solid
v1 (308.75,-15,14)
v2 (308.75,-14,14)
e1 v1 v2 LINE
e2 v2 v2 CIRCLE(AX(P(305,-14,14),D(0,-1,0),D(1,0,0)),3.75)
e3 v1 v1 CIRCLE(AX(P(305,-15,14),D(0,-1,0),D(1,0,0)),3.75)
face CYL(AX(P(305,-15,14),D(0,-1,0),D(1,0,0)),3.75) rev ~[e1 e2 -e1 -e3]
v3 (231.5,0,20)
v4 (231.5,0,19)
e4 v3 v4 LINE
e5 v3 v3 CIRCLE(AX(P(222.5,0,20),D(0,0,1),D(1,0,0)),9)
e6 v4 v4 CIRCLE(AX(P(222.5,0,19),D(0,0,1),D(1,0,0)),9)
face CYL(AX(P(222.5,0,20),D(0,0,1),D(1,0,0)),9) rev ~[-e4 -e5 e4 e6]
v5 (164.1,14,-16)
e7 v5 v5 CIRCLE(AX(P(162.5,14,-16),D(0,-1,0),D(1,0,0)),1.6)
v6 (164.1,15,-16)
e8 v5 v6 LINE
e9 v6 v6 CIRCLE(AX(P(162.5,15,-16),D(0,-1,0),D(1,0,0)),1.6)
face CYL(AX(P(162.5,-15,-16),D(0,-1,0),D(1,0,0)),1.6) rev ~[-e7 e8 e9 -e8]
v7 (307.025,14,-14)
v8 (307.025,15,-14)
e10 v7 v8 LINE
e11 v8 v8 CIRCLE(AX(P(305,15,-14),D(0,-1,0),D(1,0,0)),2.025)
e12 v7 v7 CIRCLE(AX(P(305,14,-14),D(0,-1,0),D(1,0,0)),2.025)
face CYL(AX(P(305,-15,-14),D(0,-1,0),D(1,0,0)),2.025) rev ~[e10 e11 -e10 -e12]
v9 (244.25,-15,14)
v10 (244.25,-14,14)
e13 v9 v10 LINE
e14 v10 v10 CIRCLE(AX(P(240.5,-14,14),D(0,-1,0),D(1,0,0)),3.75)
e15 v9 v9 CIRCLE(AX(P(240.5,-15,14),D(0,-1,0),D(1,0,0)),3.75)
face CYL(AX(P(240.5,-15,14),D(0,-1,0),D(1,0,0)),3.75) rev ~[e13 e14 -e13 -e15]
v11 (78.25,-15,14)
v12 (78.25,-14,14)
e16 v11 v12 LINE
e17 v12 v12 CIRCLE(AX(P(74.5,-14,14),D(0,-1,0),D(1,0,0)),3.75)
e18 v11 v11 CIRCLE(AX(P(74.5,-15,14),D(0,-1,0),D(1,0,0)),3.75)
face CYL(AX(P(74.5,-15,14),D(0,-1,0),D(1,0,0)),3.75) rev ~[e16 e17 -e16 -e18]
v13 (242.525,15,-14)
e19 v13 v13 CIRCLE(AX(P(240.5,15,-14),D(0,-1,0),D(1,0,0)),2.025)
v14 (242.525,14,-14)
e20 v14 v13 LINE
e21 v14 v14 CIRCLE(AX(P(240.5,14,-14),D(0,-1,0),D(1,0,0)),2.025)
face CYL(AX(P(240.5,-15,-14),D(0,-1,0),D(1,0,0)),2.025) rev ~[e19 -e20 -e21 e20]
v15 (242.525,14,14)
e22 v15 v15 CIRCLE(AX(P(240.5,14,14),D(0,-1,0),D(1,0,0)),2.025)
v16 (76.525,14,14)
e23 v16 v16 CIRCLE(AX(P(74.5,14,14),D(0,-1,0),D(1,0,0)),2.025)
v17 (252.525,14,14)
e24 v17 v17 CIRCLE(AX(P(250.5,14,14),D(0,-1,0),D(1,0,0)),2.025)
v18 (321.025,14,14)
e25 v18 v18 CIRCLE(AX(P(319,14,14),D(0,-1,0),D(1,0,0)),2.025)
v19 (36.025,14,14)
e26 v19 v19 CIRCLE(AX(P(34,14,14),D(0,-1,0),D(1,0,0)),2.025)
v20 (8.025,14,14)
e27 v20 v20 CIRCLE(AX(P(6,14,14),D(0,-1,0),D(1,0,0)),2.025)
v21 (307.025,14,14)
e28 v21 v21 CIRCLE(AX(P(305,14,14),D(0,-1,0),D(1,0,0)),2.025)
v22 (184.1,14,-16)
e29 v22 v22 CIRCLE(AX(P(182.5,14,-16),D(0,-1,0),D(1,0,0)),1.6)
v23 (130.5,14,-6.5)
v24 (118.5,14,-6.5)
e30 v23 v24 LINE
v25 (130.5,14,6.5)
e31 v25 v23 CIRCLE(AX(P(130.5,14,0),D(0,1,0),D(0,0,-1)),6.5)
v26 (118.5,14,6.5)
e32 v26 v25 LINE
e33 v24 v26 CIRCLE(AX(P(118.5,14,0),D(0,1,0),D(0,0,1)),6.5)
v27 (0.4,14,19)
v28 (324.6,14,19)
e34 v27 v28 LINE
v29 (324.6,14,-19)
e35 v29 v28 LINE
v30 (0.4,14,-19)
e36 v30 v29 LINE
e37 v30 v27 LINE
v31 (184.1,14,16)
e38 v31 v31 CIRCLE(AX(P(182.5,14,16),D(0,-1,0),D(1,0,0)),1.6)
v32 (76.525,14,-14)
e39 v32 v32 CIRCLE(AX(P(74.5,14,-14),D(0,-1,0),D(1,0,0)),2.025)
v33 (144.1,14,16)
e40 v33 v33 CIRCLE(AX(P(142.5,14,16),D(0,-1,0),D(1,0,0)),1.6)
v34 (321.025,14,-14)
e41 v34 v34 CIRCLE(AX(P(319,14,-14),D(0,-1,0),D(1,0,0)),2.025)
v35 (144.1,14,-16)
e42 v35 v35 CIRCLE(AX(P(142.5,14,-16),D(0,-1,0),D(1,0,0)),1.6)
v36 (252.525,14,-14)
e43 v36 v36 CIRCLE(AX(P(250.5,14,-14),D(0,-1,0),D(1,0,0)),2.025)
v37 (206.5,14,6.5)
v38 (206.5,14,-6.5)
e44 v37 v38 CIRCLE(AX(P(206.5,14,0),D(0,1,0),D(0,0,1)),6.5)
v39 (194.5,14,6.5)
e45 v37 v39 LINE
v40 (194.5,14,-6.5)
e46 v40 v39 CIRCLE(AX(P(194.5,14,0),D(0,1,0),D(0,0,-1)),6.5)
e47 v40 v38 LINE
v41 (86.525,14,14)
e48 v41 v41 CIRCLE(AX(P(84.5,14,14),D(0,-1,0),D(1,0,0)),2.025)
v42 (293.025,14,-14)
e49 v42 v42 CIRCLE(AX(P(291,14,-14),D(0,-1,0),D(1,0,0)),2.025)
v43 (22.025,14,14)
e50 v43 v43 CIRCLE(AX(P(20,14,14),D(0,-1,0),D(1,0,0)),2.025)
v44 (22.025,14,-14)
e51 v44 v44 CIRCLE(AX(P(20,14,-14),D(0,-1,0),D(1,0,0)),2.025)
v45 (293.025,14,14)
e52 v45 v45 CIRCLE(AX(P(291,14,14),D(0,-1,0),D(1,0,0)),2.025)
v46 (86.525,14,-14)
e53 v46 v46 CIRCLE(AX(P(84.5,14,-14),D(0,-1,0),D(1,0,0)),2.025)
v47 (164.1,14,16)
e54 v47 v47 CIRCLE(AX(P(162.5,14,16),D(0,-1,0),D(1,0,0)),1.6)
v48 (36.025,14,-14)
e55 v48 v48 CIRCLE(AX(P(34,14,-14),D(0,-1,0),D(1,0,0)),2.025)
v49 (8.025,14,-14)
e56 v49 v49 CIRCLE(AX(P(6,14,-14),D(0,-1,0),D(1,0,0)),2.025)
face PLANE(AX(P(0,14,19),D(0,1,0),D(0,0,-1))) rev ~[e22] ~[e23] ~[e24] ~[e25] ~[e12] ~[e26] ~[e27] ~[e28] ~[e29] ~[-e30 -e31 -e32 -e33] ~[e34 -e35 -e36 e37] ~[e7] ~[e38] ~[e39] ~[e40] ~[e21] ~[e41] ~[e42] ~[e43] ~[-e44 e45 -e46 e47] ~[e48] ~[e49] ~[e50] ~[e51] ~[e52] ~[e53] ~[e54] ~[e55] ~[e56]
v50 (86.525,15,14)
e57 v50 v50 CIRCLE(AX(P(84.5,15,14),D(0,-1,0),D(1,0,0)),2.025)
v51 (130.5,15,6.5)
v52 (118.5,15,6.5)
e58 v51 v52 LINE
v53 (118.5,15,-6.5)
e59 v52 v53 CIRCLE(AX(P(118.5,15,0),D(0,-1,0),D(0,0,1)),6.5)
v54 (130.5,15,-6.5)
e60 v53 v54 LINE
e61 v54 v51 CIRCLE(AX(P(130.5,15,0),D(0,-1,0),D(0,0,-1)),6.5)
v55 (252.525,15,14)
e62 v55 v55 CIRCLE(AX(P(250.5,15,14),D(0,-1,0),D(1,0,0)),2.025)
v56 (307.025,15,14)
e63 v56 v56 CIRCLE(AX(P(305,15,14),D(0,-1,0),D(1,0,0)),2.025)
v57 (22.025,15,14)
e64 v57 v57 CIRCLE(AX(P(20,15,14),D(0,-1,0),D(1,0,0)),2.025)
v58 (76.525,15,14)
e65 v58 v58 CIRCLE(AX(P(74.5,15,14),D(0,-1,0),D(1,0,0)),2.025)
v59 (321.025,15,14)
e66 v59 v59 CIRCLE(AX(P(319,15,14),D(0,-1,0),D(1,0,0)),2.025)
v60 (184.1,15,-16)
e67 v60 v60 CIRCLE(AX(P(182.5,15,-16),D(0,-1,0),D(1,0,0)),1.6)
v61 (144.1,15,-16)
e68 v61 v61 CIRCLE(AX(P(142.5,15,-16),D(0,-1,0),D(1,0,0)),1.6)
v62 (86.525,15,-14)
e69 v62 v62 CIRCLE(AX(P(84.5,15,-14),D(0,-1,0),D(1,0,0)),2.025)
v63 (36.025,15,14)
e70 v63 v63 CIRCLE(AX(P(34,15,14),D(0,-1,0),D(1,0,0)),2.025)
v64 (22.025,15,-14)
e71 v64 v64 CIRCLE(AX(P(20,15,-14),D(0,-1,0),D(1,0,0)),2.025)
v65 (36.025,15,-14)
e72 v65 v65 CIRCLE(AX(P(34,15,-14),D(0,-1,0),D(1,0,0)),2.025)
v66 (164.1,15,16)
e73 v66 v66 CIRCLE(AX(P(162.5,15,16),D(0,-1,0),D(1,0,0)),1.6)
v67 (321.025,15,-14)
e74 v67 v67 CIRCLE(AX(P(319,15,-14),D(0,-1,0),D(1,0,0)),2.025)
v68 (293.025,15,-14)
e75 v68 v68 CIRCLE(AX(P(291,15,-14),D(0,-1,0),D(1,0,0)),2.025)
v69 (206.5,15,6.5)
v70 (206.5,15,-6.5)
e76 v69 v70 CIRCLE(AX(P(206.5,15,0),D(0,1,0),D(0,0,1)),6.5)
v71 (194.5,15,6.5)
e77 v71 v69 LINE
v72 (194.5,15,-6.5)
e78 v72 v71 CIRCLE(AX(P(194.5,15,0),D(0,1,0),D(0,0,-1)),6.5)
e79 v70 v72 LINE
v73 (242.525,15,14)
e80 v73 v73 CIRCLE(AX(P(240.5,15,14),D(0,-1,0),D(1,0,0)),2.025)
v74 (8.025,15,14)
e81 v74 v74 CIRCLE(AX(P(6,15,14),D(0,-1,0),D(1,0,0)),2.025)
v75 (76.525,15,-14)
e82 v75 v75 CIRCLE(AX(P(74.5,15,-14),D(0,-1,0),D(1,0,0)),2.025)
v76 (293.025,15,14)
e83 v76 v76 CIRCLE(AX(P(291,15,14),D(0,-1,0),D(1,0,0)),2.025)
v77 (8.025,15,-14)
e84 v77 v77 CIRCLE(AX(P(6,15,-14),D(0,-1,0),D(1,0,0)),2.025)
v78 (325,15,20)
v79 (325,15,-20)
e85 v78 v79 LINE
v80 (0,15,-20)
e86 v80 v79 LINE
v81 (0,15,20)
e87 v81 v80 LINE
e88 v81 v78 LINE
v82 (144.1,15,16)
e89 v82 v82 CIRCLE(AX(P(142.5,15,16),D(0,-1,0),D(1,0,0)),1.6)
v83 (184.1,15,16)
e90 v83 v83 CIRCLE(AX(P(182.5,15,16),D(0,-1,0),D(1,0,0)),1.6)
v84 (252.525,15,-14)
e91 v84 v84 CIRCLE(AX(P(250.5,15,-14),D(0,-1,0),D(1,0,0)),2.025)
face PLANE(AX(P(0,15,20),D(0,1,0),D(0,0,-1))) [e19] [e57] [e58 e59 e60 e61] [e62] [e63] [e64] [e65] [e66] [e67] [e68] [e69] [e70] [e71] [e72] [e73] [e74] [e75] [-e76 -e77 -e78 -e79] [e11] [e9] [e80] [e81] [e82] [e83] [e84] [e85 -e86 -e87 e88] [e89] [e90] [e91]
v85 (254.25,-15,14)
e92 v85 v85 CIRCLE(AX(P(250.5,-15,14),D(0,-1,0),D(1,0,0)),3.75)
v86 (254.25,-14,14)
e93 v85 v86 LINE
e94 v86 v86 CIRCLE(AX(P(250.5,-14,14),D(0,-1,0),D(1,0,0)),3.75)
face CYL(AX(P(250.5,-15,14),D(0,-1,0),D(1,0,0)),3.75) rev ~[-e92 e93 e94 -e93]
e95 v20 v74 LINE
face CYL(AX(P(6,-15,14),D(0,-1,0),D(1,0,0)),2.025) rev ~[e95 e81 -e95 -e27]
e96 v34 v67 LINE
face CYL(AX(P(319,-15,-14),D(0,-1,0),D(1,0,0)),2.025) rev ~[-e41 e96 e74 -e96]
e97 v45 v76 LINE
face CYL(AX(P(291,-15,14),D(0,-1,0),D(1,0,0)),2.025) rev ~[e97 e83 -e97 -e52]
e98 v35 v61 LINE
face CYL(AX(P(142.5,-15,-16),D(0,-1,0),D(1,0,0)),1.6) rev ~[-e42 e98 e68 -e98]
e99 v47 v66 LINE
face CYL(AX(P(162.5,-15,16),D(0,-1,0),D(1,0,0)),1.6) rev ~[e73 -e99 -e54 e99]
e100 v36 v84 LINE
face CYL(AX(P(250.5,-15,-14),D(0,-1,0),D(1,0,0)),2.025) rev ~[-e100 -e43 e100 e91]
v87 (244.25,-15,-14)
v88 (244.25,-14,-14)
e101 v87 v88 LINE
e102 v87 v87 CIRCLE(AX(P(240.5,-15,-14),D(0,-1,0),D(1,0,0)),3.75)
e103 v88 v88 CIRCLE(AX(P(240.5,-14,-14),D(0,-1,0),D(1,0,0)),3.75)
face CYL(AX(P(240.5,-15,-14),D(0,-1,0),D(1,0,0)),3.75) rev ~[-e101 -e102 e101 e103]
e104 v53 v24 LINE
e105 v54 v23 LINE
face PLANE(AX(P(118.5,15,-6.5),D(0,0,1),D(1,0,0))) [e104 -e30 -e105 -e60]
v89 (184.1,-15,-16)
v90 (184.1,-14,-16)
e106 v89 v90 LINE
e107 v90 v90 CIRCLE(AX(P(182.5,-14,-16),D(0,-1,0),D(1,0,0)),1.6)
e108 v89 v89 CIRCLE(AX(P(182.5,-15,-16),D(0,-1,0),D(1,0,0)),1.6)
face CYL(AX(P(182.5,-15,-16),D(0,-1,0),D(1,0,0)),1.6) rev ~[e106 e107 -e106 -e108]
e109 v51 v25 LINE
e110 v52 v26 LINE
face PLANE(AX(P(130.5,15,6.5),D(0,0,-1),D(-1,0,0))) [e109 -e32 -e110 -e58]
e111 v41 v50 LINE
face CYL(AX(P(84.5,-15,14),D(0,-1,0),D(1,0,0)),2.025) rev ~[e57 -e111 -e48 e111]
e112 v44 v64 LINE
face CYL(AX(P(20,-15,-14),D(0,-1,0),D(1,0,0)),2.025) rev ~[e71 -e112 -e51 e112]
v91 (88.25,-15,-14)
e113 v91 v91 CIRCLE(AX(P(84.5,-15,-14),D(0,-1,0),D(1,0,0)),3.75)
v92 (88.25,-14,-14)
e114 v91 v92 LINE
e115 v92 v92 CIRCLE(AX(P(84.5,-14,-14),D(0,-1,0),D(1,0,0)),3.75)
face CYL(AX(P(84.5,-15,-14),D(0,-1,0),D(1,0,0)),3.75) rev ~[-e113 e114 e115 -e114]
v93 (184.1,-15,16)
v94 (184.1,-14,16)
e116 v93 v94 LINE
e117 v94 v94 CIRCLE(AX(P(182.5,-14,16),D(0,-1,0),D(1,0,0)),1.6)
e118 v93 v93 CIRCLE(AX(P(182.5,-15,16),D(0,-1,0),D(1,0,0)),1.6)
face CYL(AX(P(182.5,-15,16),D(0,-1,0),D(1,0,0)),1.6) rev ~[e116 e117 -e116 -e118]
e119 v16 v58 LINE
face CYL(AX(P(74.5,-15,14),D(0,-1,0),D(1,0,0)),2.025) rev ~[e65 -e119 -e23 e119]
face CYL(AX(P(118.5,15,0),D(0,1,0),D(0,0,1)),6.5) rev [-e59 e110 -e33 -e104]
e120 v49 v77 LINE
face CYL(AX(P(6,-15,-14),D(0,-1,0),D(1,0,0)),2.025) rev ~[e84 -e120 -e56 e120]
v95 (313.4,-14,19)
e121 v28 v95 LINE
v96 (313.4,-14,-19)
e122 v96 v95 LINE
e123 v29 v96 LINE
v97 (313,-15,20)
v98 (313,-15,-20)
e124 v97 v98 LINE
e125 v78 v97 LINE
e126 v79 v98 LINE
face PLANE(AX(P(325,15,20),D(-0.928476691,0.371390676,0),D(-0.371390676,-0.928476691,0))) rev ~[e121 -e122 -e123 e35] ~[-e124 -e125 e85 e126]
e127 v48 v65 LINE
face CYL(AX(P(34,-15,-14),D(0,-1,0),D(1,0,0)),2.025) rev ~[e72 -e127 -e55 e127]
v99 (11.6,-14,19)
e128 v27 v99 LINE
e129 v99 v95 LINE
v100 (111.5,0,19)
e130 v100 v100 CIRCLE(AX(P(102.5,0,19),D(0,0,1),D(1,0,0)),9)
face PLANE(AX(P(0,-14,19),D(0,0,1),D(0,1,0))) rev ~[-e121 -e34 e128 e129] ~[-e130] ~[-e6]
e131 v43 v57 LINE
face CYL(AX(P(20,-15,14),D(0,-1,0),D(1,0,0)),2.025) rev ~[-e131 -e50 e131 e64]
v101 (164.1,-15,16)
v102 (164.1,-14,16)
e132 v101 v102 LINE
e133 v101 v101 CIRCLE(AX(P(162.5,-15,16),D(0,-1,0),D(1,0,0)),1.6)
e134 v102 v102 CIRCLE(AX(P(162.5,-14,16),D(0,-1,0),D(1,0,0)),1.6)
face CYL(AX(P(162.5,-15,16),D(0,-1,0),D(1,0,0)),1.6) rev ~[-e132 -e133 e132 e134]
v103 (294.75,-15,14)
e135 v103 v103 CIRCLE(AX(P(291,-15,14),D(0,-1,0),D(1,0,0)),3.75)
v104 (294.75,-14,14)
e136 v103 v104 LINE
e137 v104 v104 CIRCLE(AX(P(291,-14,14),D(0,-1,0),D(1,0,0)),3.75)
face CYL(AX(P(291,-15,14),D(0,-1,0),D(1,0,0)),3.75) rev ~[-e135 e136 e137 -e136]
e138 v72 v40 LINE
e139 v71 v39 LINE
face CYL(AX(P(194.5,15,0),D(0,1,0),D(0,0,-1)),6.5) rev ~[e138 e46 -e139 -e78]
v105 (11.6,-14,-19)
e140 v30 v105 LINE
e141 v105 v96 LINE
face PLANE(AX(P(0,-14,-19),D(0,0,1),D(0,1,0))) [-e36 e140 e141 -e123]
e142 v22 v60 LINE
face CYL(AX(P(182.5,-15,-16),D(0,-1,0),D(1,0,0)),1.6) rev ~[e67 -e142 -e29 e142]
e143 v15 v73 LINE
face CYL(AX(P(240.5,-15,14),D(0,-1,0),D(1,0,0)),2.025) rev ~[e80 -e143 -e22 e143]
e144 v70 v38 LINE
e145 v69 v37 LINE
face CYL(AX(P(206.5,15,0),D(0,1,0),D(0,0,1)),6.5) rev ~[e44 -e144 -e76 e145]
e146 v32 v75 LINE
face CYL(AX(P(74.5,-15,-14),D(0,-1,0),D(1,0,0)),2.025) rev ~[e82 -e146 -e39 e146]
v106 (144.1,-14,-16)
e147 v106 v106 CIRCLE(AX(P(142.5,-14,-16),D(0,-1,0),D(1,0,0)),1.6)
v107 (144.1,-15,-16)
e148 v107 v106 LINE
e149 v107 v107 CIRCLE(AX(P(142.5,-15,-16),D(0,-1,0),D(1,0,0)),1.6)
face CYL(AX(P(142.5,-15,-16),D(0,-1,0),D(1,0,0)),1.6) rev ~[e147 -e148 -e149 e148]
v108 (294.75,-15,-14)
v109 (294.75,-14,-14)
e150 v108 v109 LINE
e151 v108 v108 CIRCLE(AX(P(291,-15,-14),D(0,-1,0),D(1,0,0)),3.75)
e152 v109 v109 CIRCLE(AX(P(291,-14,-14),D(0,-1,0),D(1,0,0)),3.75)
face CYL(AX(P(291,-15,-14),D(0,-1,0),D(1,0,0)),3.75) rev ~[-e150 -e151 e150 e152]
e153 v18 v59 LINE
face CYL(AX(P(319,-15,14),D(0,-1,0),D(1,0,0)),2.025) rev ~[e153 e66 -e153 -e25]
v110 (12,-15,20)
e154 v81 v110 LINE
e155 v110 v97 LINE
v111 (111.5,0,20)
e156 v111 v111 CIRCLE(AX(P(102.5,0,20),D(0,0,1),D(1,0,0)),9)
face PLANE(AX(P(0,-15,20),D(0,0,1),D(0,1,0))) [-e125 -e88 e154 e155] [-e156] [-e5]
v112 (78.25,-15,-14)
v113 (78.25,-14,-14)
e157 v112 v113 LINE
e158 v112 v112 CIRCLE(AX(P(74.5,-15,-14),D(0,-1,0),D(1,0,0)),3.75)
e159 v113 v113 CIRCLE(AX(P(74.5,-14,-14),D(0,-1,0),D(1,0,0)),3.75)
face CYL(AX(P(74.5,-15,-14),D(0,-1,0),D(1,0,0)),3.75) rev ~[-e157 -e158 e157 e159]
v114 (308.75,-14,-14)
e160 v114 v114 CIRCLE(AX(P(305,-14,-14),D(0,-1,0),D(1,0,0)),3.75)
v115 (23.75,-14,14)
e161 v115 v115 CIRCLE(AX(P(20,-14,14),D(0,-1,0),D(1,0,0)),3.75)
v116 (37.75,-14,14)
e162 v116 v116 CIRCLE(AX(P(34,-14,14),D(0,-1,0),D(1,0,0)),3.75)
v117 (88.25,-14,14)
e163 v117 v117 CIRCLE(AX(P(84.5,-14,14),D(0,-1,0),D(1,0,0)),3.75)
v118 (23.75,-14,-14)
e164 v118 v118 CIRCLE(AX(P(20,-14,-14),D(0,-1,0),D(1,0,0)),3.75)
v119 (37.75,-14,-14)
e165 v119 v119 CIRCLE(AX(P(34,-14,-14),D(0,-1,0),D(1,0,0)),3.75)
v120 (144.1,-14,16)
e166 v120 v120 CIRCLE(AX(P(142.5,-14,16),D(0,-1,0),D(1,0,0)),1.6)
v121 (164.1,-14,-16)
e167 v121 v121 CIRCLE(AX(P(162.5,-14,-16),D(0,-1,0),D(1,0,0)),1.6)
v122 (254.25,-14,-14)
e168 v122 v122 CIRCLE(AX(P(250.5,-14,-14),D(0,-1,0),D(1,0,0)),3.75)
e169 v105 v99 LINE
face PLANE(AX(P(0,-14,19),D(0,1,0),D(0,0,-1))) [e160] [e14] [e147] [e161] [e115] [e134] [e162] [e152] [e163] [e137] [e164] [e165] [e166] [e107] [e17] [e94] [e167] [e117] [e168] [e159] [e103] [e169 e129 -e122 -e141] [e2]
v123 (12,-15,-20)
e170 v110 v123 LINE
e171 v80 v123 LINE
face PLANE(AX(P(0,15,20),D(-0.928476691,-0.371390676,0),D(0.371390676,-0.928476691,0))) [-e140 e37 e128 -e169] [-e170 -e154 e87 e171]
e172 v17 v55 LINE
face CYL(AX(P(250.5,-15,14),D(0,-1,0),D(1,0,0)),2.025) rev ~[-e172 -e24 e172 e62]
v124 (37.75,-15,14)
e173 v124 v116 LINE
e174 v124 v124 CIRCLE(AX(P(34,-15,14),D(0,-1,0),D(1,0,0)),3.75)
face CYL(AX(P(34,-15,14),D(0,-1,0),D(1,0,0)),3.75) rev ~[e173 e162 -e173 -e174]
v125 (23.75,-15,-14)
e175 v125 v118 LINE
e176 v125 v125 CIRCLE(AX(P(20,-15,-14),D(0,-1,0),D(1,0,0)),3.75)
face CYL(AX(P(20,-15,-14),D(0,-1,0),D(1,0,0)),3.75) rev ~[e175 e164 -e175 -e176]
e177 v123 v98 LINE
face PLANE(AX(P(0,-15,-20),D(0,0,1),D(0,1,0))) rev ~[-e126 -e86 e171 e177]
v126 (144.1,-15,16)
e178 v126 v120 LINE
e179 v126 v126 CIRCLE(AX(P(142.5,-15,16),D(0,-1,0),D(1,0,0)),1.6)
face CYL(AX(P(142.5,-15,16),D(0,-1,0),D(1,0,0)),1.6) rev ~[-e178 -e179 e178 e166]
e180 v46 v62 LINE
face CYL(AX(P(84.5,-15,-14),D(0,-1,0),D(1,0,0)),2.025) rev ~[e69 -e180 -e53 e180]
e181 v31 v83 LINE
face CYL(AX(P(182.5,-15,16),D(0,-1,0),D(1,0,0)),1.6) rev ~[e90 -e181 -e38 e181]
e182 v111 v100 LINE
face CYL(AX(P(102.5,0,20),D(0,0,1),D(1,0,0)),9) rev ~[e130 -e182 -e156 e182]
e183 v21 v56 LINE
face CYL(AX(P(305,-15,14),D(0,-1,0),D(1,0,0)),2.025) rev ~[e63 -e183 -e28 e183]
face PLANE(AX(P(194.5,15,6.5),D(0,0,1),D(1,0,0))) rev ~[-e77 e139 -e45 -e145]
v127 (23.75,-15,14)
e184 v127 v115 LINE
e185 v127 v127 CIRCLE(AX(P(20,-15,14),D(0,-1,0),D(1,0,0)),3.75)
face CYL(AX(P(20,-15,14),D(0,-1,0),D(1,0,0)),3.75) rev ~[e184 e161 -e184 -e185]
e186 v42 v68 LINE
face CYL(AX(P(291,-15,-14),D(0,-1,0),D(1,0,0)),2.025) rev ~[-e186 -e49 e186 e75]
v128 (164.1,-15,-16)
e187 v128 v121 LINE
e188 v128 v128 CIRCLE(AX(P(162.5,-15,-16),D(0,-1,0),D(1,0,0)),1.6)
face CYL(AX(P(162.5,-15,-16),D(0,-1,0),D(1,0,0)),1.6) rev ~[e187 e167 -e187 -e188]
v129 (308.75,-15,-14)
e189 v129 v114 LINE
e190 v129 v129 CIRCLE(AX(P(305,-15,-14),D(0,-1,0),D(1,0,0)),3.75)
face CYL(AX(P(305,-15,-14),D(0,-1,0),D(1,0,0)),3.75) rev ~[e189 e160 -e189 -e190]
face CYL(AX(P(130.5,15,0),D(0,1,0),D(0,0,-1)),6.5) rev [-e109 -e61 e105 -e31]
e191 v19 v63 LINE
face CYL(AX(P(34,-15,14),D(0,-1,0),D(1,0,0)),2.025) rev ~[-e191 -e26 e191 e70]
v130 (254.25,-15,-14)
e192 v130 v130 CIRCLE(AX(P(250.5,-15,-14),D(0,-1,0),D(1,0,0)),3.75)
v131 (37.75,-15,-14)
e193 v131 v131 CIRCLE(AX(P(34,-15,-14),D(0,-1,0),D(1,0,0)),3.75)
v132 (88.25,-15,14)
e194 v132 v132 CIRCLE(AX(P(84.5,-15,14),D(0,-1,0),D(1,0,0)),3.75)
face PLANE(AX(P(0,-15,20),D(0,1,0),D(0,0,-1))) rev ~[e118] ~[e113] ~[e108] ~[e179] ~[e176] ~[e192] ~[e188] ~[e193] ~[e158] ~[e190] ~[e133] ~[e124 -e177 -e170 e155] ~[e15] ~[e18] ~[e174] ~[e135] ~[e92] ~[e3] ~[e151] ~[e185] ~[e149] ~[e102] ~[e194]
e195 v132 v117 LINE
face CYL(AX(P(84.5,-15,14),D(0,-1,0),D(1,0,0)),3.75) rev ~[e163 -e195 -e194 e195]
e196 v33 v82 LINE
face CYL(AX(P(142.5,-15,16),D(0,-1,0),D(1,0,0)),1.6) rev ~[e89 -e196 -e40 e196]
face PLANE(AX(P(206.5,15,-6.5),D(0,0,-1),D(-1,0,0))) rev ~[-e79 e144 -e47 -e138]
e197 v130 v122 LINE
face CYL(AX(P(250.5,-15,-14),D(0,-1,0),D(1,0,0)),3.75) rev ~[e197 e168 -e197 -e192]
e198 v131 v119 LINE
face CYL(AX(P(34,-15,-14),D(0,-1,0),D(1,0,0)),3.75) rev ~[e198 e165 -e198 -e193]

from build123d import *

# Parameters (mm, degrees)
SKETCH_1_W          = 40
SKETCH_1_H          = 30
SKETCH_1_W_2        = 38
SKETCH_1_H_2        = 28
EXTRUDE_1_DEPTH     = 325
SKETCH_2_R          = 2.025
CUT_EXTRUDE_1_DEPTH = 31
SKETCH_3_R          = 2.025
CUT_EXTRUDE_2_DEPTH = 31
SKETCH_4_R          = 1.6
CUT_EXTRUDE_3_DEPTH = 31
CUT_EXTRUDE_4_DEPTH = 41
CUT_EXTRUDE_5_REACH = 32
SKETCH_6_R          = 3.75
CUT_EXTRUDE_6_REACH = 32
SKETCH_7_R          = 3.75
CUT_EXTRUDE_7_REACH = 42
SKETCH_8_R          = 9
CUT_EXTRUDE_8_REACH = 32


with BuildPart() as part:
    # 草图1 → 凸台-拉伸1 (new body)
    with BuildSketch(Plane(origin=(0, 0, 0), x_dir=(0, 0, -1), z_dir=(1, 0, 0))):
        Rectangle(SKETCH_1_W, SKETCH_1_H)
        Rectangle(SKETCH_1_W_2, SKETCH_1_H_2, mode=Mode.SUBTRACT)
    extrude(amount=EXTRUDE_1_DEPTH)

    # 草图2 → 切除-拉伸1 (cut, through all)
    with BuildSketch(Plane.XZ.offset(15)):
        with Locations((74.5, 14)):
            Circle(SKETCH_2_R)
        with Locations((84.5, 14)):
            Circle(SKETCH_2_R)
        with Locations((84.5, -14)):
            Circle(SKETCH_2_R)
        with Locations((74.5, -14)):
            Circle(SKETCH_2_R)
        with Locations((250.5, -14)):
            Circle(SKETCH_2_R)
        with Locations((240.5, -14)):
            Circle(SKETCH_2_R)
        with Locations((240.5, 14)):
            Circle(SKETCH_2_R)
        with Locations((250.5, 14)):
            Circle(SKETCH_2_R)
    extrude(amount=-CUT_EXTRUDE_1_DEPTH, mode=Mode.SUBTRACT)

    # 草图3 → 切除-拉伸2 (cut, through all)
    with BuildSketch(Plane.XZ.offset(15)):
        with Locations((291, 14)):
            Circle(SKETCH_3_R)
        with Locations((305, 14)):
            Circle(SKETCH_3_R)
        with Locations((319, 14)):
            Circle(SKETCH_3_R)
        with Locations((319, -14)):
            Circle(SKETCH_3_R)
        with Locations((305, -14)):
            Circle(SKETCH_3_R)
        with Locations((291, -14)):
            Circle(SKETCH_3_R)
        with Locations((34, -14)):
            Circle(SKETCH_3_R)
        with Locations((20, -14)):
            Circle(SKETCH_3_R)
        with Locations((6, -14)):
            Circle(SKETCH_3_R)
        with Locations((6, 14)):
            Circle(SKETCH_3_R)
        with Locations((20, 14)):
            Circle(SKETCH_3_R)
        with Locations((34, 14)):
            Circle(SKETCH_3_R)
    extrude(amount=-CUT_EXTRUDE_2_DEPTH, mode=Mode.SUBTRACT)

    # 草图4 → 切除-拉伸3 (cut, through all)
    with BuildSketch(Plane.XZ.offset(15)):
        with Locations((142.5, 16)):
            Circle(SKETCH_4_R)
        with Locations((162.5, 16)):
            Circle(SKETCH_4_R)
        with Locations((182.5, 16)):
            Circle(SKETCH_4_R)
        with Locations((182.5, -16)):
            Circle(SKETCH_4_R)
        with Locations((162.5, -16)):
            Circle(SKETCH_4_R)
        with Locations((142.5, -16)):
            Circle(SKETCH_4_R)
    extrude(amount=-CUT_EXTRUDE_3_DEPTH, mode=Mode.SUBTRACT)

    # 草图5 → 切除-拉伸4 (cut, through all)
    with BuildSketch(Plane.XY.offset(20)):
        Polygon((0, 15), (12, -15), (0, -15), align=None)
        Polygon((313, -15), (325, -15), (325, 15), align=None)
    extrude(amount=-CUT_EXTRUDE_4_DEPTH, mode=Mode.SUBTRACT)

    # 草图6 → 切除-拉伸5 (cut, up to next)
    with BuildSketch(Plane.XZ.offset(15), mode=Mode.PRIVATE) as cut_extrude_5_sk1:
        with Locations((74.5, 14)):
            Circle(SKETCH_6_R)
    cut_extrude_5_tool1 = extrude(cut_extrude_5_sk1.sketch, amount=-CUT_EXTRUDE_5_REACH, mode=Mode.PRIVATE) & part.part
    add(cut_extrude_5_tool1.solids().sort_by_distance((74.5, -15, 14))[0], mode=Mode.SUBTRACT)
    # 草图6 → 切除-拉伸5 (cut, up to next)
    with BuildSketch(Plane.XZ.offset(15), mode=Mode.PRIVATE) as cut_extrude_5_sk2:
        with Locations((84.5, 14)):
            Circle(SKETCH_6_R)
    cut_extrude_5_tool2 = extrude(cut_extrude_5_sk2.sketch, amount=-CUT_EXTRUDE_5_REACH, mode=Mode.PRIVATE) & part.part
    add(cut_extrude_5_tool2.solids().sort_by_distance((84.5, -15, 14))[0], mode=Mode.SUBTRACT)
    # 草图6 → 切除-拉伸5 (cut, up to next)
    with BuildSketch(Plane.XZ.offset(15), mode=Mode.PRIVATE) as cut_extrude_5_sk3:
        with Locations((84.5, -14)):
            Circle(SKETCH_6_R)
    cut_extrude_5_tool3 = extrude(cut_extrude_5_sk3.sketch, amount=-CUT_EXTRUDE_5_REACH, mode=Mode.PRIVATE) & part.part
    add(cut_extrude_5_tool3.solids().sort_by_distance((84.5, -15, -14))[0], mode=Mode.SUBTRACT)
    # 草图6 → 切除-拉伸5 (cut, up to next)
    with BuildSketch(Plane.XZ.offset(15), mode=Mode.PRIVATE) as cut_extrude_5_sk4:
        with Locations((74.5, -14)):
            Circle(SKETCH_6_R)
    cut_extrude_5_tool4 = extrude(cut_extrude_5_sk4.sketch, amount=-CUT_EXTRUDE_5_REACH, mode=Mode.PRIVATE) & part.part
    add(cut_extrude_5_tool4.solids().sort_by_distance((74.5, -15, -14))[0], mode=Mode.SUBTRACT)
    # 草图6 → 切除-拉伸5 (cut, up to next)
    with BuildSketch(Plane.XZ.offset(15), mode=Mode.PRIVATE) as cut_extrude_5_sk5:
        with Locations((250.5, -14)):
            Circle(SKETCH_6_R)
    cut_extrude_5_tool5 = extrude(cut_extrude_5_sk5.sketch, amount=-CUT_EXTRUDE_5_REACH, mode=Mode.PRIVATE) & part.part
    add(cut_extrude_5_tool5.solids().sort_by_distance((250.5, -15, -14))[0], mode=Mode.SUBTRACT)
    # 草图6 → 切除-拉伸5 (cut, up to next)
    with BuildSketch(Plane.XZ.offset(15), mode=Mode.PRIVATE) as cut_extrude_5_sk6:
        with Locations((240.5, -14)):
            Circle(SKETCH_6_R)
    cut_extrude_5_tool6 = extrude(cut_extrude_5_sk6.sketch, amount=-CUT_EXTRUDE_5_REACH, mode=Mode.PRIVATE) & part.part
    add(cut_extrude_5_tool6.solids().sort_by_distance((240.5, -15, -14))[0], mode=Mode.SUBTRACT)
    # 草图6 → 切除-拉伸5 (cut, up to next)
    with BuildSketch(Plane.XZ.offset(15), mode=Mode.PRIVATE) as cut_extrude_5_sk7:
        with Locations((240.5, 14)):
            Circle(SKETCH_6_R)
    cut_extrude_5_tool7 = extrude(cut_extrude_5_sk7.sketch, amount=-CUT_EXTRUDE_5_REACH, mode=Mode.PRIVATE) & part.part
    add(cut_extrude_5_tool7.solids().sort_by_distance((240.5, -15, 14))[0], mode=Mode.SUBTRACT)
    # 草图6 → 切除-拉伸5 (cut, up to next)
    with BuildSketch(Plane.XZ.offset(15), mode=Mode.PRIVATE) as cut_extrude_5_sk8:
        with Locations((250.5, 14)):
            Circle(SKETCH_6_R)
    cut_extrude_5_tool8 = extrude(cut_extrude_5_sk8.sketch, amount=-CUT_EXTRUDE_5_REACH, mode=Mode.PRIVATE) & part.part
    add(cut_extrude_5_tool8.solids().sort_by_distance((250.5, -15, 14))[0], mode=Mode.SUBTRACT)

    # 草图7 → 切除-拉伸6 (cut, up to next)
    with BuildSketch(Plane.XZ.offset(15), mode=Mode.PRIVATE) as cut_extrude_6_sk1:
        with Locations((20, 14)):
            Circle(SKETCH_7_R)
    cut_extrude_6_tool1 = extrude(cut_extrude_6_sk1.sketch, amount=-CUT_EXTRUDE_6_REACH, mode=Mode.PRIVATE) & part.part
    add(cut_extrude_6_tool1.solids().sort_by_distance((20, -15, 14))[0], mode=Mode.SUBTRACT)
    # 草图7 → 切除-拉伸6 (cut, up to next)
    with BuildSketch(Plane.XZ.offset(15), mode=Mode.PRIVATE) as cut_extrude_6_sk2:
        with Locations((34, 14)):
            Circle(SKETCH_7_R)
    cut_extrude_6_tool2 = extrude(cut_extrude_6_sk2.sketch, amount=-CUT_EXTRUDE_6_REACH, mode=Mode.PRIVATE) & part.part
    add(cut_extrude_6_tool2.solids().sort_by_distance((34, -15, 14))[0], mode=Mode.SUBTRACT)
    # 草图7 → 切除-拉伸6 (cut, up to next)
    with BuildSketch(Plane.XZ.offset(15), mode=Mode.PRIVATE) as cut_extrude_6_sk3:
        with Locations((34, -14)):
            Circle(SKETCH_7_R)
    cut_extrude_6_tool3 = extrude(cut_extrude_6_sk3.sketch, amount=-CUT_EXTRUDE_6_REACH, mode=Mode.PRIVATE) & part.part
    add(cut_extrude_6_tool3.solids().sort_by_distance((34, -15, -14))[0], mode=Mode.SUBTRACT)
    # 草图7 → 切除-拉伸6 (cut, up to next)
    with BuildSketch(Plane.XZ.offset(15), mode=Mode.PRIVATE) as cut_extrude_6_sk4:
        with Locations((20, -14)):
            Circle(SKETCH_7_R)
    cut_extrude_6_tool4 = extrude(cut_extrude_6_sk4.sketch, amount=-CUT_EXTRUDE_6_REACH, mode=Mode.PRIVATE) & part.part
    add(cut_extrude_6_tool4.solids().sort_by_distance((20, -15, -14))[0], mode=Mode.SUBTRACT)
    # 草图7 → 切除-拉伸6 (cut, up to next)
    with BuildSketch(Plane.XZ.offset(15), mode=Mode.PRIVATE) as cut_extrude_6_sk5:
        with Locations((305, -14)):
            Circle(SKETCH_7_R)
    cut_extrude_6_tool5 = extrude(cut_extrude_6_sk5.sketch, amount=-CUT_EXTRUDE_6_REACH, mode=Mode.PRIVATE) & part.part
    add(cut_extrude_6_tool5.solids().sort_by_distance((305, -15, -14))[0], mode=Mode.SUBTRACT)
    # 草图7 → 切除-拉伸6 (cut, up to next)
    with BuildSketch(Plane.XZ.offset(15), mode=Mode.PRIVATE) as cut_extrude_6_sk6:
        with Locations((291, -14)):
            Circle(SKETCH_7_R)
    cut_extrude_6_tool6 = extrude(cut_extrude_6_sk6.sketch, amount=-CUT_EXTRUDE_6_REACH, mode=Mode.PRIVATE) & part.part
    add(cut_extrude_6_tool6.solids().sort_by_distance((291, -15, -14))[0], mode=Mode.SUBTRACT)
    # 草图7 → 切除-拉伸6 (cut, up to next)
    with BuildSketch(Plane.XZ.offset(15), mode=Mode.PRIVATE) as cut_extrude_6_sk7:
        with Locations((291, 14)):
            Circle(SKETCH_7_R)
    cut_extrude_6_tool7 = extrude(cut_extrude_6_sk7.sketch, amount=-CUT_EXTRUDE_6_REACH, mode=Mode.PRIVATE) & part.part
    add(cut_extrude_6_tool7.solids().sort_by_distance((291, -15, 14))[0], mode=Mode.SUBTRACT)
    # 草图7 → 切除-拉伸6 (cut, up to next)
    with BuildSketch(Plane.XZ.offset(15), mode=Mode.PRIVATE) as cut_extrude_6_sk8:
        with Locations((305, 14)):
            Circle(SKETCH_7_R)
    cut_extrude_6_tool8 = extrude(cut_extrude_6_sk8.sketch, amount=-CUT_EXTRUDE_6_REACH, mode=Mode.PRIVATE) & part.part
    add(cut_extrude_6_tool8.solids().sort_by_distance((305, -15, 14))[0], mode=Mode.SUBTRACT)

    # 草图8 → 切除-拉伸7 (cut, up to next)
    with BuildSketch(Plane.XY.offset(20), mode=Mode.PRIVATE) as cut_extrude_7_sk1:
        with Locations((102.5, 0)):
            Circle(SKETCH_8_R)
    cut_extrude_7_tool1 = extrude(cut_extrude_7_sk1.sketch, amount=-CUT_EXTRUDE_7_REACH, mode=Mode.PRIVATE) & part.part
    add(cut_extrude_7_tool1.solids().sort_by_distance((102.5, 0, 20))[0], mode=Mode.SUBTRACT)
    # 草图8 → 切除-拉伸7 (cut, up to next)
    with BuildSketch(Plane.XY.offset(20), mode=Mode.PRIVATE) as cut_extrude_7_sk2:
        with Locations((222.5, 0)):
            Circle(SKETCH_8_R)
    cut_extrude_7_tool2 = extrude(cut_extrude_7_sk2.sketch, amount=-CUT_EXTRUDE_7_REACH, mode=Mode.PRIVATE) & part.part
    add(cut_extrude_7_tool2.solids().sort_by_distance((222.5, 0, 20))[0], mode=Mode.SUBTRACT)

    # 草图9 → 切除-拉伸8 (cut, up to next)
    with BuildSketch(Plane(origin=(0, 15, 0), x_dir=(1, 0, 0), z_dir=(0, 1, 0)), mode=Mode.PRIVATE) as cut_extrude_8_sk1:
        with BuildLine():
            Line((118.5, 6.5), (130.5, 6.5))
            ThreePointArc((130.5, 6.5), (137, 0), (130.5, -6.5))
            Line((130.5, -6.5), (118.5, -6.5))
            ThreePointArc((118.5, -6.5), (112, 0), (118.5, 6.5))
        make_face()
    cut_extrude_8_tool1 = extrude(cut_extrude_8_sk1.sketch, amount=-CUT_EXTRUDE_8_REACH, mode=Mode.PRIVATE) & part.part
    add(cut_extrude_8_tool1.solids().sort_by_distance((124.5, 15, 0))[0], mode=Mode.SUBTRACT)
    # 草图9 → 切除-拉伸8 (cut, up to next)
    with BuildSketch(Plane(origin=(0, 15, 0), x_dir=(1, 0, 0), z_dir=(0, 1, 0)), mode=Mode.PRIVATE) as cut_extrude_8_sk2:
        with BuildLine():
            Line((206.5, 6.5), (194.5, 6.5))
            ThreePointArc((194.5, 6.5), (188, 0), (194.5, -6.5))
            Line((194.5, -6.5), (206.5, -6.5))
            ThreePointArc((206.5, -6.5), (213, 0), (206.5, 6.5))
        make_face()
    cut_extrude_8_tool2 = extrude(cut_extrude_8_sk2.sketch, amount=-CUT_EXTRUDE_8_REACH, mode=Mode.PRIVATE) & part.part
    add(cut_extrude_8_tool2.solids().sort_by_distance((200.5, 15, 0))[0], mode=Mode.SUBTRACT)


solid = part.part
